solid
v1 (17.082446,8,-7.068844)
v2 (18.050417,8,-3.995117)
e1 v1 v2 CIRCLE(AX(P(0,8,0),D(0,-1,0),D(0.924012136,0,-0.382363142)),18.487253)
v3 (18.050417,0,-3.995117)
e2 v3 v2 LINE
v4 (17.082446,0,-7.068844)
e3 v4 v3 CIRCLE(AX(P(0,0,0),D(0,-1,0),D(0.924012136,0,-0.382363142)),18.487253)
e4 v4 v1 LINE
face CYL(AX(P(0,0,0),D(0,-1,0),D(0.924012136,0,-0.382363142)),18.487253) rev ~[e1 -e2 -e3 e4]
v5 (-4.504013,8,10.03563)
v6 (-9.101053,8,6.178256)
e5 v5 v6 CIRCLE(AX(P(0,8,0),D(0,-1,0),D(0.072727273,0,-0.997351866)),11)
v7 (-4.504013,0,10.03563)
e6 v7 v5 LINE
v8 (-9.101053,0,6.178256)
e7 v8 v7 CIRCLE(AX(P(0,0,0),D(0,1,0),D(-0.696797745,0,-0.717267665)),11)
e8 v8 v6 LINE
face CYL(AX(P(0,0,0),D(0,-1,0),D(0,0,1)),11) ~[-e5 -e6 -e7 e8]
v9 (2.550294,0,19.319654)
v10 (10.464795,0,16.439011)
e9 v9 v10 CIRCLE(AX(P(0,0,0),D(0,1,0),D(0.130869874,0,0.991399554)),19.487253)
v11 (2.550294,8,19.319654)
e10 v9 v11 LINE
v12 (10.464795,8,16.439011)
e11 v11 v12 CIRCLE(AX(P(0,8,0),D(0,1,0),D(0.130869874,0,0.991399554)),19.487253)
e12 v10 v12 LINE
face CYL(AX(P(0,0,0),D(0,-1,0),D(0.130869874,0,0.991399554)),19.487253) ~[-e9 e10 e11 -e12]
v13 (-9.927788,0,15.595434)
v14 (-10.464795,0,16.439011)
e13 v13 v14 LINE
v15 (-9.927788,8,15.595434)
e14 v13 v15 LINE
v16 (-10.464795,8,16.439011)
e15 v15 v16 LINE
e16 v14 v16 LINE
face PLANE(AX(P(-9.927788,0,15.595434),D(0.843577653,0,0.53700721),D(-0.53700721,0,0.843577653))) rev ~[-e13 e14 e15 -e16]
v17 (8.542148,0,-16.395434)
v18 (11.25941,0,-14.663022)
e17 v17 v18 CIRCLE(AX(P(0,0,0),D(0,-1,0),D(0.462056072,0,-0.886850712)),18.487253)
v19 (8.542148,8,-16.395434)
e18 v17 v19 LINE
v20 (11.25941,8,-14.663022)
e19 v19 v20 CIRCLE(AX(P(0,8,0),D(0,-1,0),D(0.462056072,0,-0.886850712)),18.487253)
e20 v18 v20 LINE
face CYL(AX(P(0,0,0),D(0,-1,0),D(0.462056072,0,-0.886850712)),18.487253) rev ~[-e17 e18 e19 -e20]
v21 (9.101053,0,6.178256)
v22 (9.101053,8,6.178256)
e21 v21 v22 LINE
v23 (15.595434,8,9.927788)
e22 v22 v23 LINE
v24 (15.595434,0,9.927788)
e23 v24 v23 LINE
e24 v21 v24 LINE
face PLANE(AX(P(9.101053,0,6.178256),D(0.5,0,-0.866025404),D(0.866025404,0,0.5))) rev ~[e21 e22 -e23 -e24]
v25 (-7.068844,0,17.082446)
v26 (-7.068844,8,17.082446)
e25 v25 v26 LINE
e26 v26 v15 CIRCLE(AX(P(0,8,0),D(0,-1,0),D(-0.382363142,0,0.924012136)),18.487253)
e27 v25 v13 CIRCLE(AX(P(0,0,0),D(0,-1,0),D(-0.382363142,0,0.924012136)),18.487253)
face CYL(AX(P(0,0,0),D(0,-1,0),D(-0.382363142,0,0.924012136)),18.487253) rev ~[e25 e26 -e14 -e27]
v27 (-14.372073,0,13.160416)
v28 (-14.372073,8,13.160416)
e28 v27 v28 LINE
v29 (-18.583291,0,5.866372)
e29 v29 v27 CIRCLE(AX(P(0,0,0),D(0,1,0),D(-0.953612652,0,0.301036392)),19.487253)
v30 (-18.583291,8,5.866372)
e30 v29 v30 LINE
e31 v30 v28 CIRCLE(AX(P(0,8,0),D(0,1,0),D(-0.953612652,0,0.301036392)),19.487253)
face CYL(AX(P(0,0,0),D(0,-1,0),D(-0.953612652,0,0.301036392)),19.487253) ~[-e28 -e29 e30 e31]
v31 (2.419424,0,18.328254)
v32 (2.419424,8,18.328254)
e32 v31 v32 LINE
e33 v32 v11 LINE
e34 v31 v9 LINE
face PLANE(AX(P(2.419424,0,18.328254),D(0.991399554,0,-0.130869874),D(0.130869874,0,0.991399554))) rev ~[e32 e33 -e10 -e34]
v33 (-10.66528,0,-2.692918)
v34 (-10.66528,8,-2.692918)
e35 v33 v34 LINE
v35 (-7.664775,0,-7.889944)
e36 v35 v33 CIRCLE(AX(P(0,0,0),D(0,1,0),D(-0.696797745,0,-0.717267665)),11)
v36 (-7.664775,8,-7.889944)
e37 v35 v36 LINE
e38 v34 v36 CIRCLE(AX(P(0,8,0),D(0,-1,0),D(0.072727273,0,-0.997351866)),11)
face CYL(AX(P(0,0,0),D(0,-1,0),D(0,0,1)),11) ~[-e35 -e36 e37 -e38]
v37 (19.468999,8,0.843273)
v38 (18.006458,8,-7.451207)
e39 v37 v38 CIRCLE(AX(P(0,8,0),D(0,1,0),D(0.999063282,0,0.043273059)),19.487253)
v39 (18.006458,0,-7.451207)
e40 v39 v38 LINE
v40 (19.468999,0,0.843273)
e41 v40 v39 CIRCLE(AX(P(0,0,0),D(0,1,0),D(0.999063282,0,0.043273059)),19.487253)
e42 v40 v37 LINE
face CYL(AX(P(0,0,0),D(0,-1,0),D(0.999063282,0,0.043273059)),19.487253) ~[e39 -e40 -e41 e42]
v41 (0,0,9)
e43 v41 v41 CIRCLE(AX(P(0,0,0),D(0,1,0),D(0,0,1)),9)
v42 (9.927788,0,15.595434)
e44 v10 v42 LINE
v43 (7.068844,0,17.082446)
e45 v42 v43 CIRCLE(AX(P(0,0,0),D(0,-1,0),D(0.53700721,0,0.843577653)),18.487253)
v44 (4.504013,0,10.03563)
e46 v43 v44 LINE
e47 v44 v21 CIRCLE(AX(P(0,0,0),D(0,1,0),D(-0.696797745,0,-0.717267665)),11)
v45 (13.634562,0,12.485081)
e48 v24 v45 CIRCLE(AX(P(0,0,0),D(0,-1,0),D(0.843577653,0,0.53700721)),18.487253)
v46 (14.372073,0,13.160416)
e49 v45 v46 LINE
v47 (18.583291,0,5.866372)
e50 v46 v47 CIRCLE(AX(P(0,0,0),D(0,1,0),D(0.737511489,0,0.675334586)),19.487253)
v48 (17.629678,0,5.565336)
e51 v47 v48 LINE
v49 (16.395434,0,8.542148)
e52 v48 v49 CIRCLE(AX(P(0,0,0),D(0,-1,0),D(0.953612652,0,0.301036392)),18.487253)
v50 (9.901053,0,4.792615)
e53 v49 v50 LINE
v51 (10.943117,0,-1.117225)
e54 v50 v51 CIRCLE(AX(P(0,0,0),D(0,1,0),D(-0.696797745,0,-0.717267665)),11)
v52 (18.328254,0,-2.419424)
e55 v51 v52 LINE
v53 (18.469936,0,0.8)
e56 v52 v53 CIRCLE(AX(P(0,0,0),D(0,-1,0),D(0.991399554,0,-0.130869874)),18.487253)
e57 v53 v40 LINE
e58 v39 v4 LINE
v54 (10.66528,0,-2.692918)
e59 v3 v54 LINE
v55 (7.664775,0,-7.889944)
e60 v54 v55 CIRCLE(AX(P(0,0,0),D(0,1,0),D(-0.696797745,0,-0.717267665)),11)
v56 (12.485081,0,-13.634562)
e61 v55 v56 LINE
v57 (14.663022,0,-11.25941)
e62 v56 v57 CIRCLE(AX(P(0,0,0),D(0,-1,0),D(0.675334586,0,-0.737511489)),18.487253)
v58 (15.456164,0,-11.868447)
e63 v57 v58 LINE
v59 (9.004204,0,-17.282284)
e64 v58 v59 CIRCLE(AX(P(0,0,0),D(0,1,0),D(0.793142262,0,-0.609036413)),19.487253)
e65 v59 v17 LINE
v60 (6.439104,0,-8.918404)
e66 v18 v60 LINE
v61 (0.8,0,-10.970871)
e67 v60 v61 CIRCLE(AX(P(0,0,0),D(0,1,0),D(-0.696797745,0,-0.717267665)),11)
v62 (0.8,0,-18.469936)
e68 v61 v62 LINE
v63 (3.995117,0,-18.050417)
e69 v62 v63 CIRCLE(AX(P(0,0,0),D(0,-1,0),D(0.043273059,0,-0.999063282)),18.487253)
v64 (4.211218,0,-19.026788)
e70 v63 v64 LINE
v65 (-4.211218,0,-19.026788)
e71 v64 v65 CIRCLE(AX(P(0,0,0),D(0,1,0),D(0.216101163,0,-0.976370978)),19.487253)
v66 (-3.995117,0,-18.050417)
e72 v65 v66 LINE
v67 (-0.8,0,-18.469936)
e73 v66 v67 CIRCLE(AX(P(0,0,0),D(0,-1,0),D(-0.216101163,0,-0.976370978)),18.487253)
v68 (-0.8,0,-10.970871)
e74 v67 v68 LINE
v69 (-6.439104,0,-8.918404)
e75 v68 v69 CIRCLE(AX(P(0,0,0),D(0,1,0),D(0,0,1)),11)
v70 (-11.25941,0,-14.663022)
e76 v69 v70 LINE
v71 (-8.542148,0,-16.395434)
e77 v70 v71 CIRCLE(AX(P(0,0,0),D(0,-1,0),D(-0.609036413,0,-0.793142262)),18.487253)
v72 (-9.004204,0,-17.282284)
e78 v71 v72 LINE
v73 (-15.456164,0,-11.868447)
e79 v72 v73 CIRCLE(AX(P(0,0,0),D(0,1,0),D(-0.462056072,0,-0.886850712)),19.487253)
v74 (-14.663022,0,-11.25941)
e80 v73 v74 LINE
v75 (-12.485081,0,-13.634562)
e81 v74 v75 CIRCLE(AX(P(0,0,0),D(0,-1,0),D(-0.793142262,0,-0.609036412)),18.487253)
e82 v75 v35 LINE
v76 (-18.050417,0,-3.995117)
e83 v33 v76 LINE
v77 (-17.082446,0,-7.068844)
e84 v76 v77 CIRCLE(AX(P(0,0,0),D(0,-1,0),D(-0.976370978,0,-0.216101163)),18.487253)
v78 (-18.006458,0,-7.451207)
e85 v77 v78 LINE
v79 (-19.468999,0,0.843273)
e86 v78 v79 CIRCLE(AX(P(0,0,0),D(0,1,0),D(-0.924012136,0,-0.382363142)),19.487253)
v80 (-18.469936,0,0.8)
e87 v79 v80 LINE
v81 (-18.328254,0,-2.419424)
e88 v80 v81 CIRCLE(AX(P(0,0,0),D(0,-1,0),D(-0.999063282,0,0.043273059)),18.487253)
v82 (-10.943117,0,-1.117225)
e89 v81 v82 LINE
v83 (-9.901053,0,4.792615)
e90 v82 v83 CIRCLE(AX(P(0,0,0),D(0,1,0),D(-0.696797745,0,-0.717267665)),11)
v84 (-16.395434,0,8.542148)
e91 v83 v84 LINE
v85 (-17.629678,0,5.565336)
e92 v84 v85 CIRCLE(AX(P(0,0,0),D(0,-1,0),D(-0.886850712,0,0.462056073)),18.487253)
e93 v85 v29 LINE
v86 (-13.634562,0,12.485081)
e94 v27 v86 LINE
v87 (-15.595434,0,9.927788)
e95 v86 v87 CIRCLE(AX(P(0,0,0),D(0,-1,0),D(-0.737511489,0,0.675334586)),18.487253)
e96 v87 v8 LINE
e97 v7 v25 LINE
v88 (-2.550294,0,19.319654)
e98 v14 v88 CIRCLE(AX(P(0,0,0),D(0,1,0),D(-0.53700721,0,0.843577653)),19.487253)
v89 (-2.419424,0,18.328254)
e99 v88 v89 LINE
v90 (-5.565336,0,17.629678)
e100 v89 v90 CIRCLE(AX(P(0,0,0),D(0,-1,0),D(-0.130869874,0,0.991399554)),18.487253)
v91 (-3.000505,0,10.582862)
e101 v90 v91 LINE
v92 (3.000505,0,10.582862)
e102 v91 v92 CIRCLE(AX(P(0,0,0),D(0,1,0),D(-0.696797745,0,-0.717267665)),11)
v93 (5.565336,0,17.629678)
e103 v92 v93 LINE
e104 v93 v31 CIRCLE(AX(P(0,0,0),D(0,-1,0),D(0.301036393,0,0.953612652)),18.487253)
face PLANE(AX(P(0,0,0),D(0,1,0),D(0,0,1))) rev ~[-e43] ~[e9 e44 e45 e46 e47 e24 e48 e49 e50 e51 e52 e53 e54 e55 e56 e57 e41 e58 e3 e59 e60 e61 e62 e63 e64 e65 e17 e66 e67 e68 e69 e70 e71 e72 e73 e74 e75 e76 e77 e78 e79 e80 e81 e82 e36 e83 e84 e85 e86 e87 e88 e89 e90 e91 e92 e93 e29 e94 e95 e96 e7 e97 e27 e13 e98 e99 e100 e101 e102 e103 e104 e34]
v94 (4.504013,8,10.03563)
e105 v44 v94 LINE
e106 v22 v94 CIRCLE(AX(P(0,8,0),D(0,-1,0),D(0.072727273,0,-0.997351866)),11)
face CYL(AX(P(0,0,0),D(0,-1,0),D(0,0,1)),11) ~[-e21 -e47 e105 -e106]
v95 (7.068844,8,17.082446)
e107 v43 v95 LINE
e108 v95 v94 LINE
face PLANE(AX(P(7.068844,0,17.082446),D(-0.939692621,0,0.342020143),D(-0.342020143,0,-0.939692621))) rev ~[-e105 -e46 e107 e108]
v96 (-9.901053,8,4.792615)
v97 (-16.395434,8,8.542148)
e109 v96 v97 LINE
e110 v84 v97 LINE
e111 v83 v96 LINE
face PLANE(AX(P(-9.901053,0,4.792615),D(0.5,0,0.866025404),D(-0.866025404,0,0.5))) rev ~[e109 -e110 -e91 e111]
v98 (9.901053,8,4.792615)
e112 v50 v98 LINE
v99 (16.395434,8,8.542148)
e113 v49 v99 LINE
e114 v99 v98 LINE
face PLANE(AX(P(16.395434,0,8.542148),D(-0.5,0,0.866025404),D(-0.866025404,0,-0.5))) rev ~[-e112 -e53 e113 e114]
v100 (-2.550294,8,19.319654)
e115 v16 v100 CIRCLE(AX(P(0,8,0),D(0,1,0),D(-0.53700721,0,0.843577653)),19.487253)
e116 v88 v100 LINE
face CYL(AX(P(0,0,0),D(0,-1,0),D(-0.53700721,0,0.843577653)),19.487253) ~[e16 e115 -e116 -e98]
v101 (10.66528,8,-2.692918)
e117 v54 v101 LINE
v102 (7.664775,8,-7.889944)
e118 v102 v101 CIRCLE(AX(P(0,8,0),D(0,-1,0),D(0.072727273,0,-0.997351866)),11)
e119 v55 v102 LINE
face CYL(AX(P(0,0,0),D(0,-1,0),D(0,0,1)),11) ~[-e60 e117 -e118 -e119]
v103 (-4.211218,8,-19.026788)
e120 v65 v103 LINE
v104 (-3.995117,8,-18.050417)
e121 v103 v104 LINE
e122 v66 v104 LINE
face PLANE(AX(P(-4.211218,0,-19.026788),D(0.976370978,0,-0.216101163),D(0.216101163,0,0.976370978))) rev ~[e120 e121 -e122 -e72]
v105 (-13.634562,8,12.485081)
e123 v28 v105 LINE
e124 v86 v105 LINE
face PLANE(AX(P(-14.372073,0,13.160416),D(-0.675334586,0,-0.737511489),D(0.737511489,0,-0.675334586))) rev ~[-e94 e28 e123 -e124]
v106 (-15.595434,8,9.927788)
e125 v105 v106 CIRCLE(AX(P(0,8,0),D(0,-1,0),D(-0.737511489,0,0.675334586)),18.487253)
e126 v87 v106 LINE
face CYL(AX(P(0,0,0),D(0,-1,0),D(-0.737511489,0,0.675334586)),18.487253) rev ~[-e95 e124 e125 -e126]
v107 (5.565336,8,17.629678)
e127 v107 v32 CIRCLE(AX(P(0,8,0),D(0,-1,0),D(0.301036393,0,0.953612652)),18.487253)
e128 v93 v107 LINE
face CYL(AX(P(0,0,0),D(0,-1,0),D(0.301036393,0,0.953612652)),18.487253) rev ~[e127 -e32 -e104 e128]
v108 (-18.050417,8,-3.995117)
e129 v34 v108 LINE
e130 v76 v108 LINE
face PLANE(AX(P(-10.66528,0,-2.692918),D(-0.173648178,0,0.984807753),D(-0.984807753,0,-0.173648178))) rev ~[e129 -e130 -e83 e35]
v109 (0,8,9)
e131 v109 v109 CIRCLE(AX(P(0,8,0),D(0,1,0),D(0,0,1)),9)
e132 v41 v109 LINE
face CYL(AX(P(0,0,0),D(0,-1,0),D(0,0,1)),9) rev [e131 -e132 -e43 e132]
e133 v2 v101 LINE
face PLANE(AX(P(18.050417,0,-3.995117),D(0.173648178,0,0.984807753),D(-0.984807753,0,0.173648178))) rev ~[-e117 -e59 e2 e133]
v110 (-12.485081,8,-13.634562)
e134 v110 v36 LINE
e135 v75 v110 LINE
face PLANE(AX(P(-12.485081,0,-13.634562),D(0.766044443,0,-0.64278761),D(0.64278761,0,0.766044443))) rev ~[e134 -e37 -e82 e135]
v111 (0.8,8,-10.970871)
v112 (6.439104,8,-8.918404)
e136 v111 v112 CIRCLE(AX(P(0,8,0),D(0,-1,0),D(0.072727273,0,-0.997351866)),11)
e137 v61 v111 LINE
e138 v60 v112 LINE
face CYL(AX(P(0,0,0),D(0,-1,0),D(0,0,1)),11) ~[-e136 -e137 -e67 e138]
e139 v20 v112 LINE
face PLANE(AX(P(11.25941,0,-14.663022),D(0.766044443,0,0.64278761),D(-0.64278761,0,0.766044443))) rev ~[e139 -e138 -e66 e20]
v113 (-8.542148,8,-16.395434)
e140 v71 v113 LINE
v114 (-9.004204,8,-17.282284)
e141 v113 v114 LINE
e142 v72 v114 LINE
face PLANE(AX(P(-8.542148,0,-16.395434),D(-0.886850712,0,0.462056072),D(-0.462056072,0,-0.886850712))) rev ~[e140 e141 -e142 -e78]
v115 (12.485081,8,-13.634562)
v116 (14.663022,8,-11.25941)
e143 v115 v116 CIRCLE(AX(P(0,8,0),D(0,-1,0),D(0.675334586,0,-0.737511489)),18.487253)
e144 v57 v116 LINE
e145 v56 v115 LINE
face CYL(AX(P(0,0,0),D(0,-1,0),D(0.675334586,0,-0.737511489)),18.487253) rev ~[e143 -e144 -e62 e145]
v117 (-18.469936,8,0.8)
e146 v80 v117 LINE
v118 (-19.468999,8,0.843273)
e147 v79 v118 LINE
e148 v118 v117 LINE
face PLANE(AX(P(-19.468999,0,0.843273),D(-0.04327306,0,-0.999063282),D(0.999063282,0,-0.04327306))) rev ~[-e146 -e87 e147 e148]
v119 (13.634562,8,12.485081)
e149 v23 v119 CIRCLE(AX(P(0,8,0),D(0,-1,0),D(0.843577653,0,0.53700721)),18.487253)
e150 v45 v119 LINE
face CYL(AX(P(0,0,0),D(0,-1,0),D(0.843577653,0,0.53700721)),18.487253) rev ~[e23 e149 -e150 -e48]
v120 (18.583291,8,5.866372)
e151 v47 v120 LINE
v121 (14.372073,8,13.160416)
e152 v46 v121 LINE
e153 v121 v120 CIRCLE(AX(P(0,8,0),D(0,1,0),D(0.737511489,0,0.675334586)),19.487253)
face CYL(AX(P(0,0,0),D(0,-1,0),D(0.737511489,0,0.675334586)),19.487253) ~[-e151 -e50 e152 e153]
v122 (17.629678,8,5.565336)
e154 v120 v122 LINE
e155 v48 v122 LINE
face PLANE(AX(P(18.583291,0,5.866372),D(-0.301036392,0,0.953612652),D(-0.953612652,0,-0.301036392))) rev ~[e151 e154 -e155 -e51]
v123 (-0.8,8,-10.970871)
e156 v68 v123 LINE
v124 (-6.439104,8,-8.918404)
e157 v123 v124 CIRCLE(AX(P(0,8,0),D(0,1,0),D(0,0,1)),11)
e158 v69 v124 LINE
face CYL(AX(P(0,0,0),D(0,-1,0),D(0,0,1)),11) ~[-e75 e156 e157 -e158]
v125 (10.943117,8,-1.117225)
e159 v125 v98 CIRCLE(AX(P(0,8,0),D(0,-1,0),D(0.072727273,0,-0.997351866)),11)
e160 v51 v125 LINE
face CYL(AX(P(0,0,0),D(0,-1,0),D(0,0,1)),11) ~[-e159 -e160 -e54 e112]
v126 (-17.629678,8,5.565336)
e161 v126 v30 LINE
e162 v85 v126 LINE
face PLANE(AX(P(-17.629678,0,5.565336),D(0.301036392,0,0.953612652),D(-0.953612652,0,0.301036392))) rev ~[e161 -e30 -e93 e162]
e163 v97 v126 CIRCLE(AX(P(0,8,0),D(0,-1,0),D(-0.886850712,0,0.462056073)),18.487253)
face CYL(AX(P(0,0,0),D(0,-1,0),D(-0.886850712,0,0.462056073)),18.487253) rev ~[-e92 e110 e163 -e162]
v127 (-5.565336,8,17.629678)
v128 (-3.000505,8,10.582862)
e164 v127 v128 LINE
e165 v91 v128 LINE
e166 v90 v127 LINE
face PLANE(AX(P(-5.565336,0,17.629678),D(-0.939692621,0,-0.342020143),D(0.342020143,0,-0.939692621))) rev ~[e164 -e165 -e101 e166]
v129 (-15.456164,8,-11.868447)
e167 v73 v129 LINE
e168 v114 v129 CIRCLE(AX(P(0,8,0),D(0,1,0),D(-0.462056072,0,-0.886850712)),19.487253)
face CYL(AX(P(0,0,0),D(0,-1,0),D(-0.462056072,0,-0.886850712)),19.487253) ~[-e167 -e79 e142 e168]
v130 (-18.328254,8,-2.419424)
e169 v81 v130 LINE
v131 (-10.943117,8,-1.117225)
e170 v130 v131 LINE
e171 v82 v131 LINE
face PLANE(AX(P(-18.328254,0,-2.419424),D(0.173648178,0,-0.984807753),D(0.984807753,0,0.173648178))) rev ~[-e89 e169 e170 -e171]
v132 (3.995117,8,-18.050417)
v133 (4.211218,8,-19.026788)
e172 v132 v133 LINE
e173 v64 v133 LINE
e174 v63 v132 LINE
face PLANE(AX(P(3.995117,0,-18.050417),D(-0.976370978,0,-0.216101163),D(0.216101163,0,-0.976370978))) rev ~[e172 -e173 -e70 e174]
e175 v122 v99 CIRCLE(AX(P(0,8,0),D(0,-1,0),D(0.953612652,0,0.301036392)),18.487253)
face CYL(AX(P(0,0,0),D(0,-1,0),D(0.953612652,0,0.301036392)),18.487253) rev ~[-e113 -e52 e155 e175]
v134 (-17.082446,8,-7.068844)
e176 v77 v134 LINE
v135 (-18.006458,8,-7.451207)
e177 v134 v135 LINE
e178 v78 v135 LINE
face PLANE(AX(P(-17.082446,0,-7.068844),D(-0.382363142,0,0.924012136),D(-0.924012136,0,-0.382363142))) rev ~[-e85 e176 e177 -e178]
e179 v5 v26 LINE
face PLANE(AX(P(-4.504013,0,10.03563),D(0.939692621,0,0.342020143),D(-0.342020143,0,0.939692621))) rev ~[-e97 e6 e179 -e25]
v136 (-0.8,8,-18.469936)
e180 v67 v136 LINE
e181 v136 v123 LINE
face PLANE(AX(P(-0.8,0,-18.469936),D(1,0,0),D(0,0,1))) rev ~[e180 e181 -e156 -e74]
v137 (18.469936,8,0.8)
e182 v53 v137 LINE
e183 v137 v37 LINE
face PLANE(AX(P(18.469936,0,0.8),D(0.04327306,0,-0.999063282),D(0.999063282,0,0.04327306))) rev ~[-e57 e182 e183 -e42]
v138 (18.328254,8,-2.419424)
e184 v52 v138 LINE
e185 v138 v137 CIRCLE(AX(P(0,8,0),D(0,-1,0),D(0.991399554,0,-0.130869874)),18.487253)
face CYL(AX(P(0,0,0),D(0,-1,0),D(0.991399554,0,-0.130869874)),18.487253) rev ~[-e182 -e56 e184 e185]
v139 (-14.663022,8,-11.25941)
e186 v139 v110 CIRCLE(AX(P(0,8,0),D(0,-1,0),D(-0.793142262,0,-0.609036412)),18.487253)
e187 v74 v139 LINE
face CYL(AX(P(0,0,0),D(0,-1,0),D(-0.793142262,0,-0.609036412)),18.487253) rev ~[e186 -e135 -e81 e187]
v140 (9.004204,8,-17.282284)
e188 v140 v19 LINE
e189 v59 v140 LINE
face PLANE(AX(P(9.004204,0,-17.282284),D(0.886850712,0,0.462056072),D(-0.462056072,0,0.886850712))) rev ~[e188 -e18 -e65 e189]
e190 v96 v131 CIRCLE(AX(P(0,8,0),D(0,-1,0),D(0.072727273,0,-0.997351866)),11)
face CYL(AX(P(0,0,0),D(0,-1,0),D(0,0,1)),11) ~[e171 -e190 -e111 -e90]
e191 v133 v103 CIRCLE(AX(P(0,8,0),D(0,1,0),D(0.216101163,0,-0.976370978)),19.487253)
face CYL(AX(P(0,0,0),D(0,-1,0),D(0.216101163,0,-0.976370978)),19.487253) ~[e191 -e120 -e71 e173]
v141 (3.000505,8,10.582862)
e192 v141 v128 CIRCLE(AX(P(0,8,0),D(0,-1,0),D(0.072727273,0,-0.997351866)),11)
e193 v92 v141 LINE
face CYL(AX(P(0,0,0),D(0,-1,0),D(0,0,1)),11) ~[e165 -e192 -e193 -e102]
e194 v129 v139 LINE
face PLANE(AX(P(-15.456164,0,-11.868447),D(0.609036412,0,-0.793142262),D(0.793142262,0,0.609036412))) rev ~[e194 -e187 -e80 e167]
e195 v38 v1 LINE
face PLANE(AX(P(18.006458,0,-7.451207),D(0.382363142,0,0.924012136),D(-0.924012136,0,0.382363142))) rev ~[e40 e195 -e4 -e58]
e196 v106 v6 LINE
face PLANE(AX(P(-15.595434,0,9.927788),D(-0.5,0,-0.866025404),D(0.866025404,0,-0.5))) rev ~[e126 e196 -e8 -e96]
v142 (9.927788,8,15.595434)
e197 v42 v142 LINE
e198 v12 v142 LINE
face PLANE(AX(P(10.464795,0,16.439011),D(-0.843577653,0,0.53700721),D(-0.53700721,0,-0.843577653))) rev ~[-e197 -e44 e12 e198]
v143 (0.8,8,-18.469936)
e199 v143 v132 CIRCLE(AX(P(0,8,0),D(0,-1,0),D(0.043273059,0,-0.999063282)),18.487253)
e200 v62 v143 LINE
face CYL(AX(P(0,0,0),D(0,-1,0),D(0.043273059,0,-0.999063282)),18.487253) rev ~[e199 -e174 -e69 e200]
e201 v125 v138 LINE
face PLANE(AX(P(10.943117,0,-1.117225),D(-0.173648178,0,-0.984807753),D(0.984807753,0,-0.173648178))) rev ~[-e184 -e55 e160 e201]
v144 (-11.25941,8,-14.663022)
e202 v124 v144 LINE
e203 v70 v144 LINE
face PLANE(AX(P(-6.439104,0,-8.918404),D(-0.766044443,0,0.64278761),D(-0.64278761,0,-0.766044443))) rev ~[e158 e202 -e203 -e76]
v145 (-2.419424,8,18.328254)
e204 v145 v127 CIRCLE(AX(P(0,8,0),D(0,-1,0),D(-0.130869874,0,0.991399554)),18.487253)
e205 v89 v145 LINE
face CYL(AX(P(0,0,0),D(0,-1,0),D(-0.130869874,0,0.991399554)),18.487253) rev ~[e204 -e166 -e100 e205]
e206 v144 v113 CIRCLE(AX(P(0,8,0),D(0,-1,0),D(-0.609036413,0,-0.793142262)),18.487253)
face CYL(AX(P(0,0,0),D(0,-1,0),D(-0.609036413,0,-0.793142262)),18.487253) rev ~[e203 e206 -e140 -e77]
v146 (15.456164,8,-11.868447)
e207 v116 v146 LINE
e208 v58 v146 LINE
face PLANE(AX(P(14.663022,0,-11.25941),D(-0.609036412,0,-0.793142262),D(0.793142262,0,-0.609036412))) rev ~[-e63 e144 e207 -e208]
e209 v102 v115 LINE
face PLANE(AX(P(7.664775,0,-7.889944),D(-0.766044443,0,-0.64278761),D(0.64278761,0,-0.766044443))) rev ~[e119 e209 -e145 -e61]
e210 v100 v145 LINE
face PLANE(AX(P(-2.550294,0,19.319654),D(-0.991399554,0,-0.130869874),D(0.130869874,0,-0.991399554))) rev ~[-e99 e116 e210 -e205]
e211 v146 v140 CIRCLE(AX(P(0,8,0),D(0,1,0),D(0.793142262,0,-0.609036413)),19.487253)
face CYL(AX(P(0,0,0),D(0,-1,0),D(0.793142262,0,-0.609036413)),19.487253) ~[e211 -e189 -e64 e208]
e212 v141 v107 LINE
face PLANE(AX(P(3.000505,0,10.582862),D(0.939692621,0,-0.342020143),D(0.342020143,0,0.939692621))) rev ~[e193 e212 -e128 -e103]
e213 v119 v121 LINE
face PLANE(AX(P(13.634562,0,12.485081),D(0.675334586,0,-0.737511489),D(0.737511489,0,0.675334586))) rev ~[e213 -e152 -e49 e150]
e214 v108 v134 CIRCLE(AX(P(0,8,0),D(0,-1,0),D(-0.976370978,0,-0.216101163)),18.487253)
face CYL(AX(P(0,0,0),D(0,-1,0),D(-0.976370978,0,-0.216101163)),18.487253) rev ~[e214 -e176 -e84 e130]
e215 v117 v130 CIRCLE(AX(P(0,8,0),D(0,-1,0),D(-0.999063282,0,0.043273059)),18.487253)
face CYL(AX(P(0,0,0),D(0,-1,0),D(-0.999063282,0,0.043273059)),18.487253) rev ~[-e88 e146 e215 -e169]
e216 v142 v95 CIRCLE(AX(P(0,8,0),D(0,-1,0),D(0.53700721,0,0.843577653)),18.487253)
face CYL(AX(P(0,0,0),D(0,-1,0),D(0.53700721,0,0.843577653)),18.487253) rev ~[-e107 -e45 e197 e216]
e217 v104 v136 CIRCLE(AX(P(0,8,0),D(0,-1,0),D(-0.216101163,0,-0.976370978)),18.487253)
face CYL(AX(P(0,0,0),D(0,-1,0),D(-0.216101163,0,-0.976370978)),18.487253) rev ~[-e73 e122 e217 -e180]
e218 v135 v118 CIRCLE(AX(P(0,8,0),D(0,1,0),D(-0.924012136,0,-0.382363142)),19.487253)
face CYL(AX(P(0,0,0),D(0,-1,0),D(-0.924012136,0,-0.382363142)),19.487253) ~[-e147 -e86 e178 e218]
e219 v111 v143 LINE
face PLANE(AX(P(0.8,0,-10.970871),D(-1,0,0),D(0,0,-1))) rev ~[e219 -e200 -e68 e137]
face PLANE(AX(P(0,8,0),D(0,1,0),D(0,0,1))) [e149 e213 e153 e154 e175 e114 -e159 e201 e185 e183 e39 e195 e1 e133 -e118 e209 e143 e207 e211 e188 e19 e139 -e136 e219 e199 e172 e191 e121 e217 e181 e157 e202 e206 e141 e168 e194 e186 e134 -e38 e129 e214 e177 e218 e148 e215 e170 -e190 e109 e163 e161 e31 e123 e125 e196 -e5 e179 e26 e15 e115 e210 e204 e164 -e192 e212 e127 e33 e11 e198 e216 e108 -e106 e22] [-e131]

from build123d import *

# Parameters (mm, degrees)
SKETCH1_R           = 11
SKETCH1_R_2         = 9
BOSS_EXTRUDE1_DEPTH = 8
BOSS_EXTRUDE4_DEPTH = 8
CIRPATTERN2_COUNT   = 9


with BuildPart() as part:
    # Sketch1 → Boss-Extrude1 (new body)
    with BuildSketch(Plane(origin=(0, 0, 0), x_dir=(1, 0, 0), z_dir=(0, 1, 0))):
        with Locations(Location((0, 0, 0), (0, 0, 270))):
            Circle(SKETCH1_R)
        with Locations(Location((0, 0, 0), (0, 0, 270))):
            Circle(SKETCH1_R_2, mode=Mode.SUBTRACT)
    extrude(amount=BOSS_EXTRUDE1_DEPTH)

    # Sketch1<3> → Boss-Extrude4 (add)
    with BuildSketch(Plane(origin=(0, 0, 0), x_dir=(1, 0, 0), z_dir=(0, 1, 0))):
        with BuildLine():
            Line((-0.8, 18.469935747), (-0.8, 10.970870522))
            ThreePointArc((-0.8, 10.970870522), (0, 11), (0.8, 10.970870522))
            Line((0.8, 10.970870522), (0.8, 18.469935747))
            ThreePointArc((0.8, 18.469935747), (2.406716727, 18.329927471), (3.995116886, 18.050417379))
            Line((3.995116886, 18.050417379), (4.211218049, 19.026788357))
            ThreePointArc((4.211218049, 19.026788357), (0, 19.487253081), (-4.211218049, 19.026788357))
            Line((-4.211218049, 19.026788357), (-3.995116886, 18.050417379))
            ThreePointArc((-3.995116886, 18.050417379), (-2.406716727, 18.329927471), (-0.8, 18.469935747))
        make_face()
    boss_extrude4 = extrude(amount=BOSS_EXTRUDE4_DEPTH)

    # CirPattern2: Boss-Extrude4 ×9 about axis
    cirpattern2_axis = Axis((0, 0, 0), (0, 1, 0))
    for i in range(1, CIRPATTERN2_COUNT):
        add(boss_extrude4.rotate(cirpattern2_axis, i * 360 / CIRPATTERN2_COUNT))


solid = part.part
